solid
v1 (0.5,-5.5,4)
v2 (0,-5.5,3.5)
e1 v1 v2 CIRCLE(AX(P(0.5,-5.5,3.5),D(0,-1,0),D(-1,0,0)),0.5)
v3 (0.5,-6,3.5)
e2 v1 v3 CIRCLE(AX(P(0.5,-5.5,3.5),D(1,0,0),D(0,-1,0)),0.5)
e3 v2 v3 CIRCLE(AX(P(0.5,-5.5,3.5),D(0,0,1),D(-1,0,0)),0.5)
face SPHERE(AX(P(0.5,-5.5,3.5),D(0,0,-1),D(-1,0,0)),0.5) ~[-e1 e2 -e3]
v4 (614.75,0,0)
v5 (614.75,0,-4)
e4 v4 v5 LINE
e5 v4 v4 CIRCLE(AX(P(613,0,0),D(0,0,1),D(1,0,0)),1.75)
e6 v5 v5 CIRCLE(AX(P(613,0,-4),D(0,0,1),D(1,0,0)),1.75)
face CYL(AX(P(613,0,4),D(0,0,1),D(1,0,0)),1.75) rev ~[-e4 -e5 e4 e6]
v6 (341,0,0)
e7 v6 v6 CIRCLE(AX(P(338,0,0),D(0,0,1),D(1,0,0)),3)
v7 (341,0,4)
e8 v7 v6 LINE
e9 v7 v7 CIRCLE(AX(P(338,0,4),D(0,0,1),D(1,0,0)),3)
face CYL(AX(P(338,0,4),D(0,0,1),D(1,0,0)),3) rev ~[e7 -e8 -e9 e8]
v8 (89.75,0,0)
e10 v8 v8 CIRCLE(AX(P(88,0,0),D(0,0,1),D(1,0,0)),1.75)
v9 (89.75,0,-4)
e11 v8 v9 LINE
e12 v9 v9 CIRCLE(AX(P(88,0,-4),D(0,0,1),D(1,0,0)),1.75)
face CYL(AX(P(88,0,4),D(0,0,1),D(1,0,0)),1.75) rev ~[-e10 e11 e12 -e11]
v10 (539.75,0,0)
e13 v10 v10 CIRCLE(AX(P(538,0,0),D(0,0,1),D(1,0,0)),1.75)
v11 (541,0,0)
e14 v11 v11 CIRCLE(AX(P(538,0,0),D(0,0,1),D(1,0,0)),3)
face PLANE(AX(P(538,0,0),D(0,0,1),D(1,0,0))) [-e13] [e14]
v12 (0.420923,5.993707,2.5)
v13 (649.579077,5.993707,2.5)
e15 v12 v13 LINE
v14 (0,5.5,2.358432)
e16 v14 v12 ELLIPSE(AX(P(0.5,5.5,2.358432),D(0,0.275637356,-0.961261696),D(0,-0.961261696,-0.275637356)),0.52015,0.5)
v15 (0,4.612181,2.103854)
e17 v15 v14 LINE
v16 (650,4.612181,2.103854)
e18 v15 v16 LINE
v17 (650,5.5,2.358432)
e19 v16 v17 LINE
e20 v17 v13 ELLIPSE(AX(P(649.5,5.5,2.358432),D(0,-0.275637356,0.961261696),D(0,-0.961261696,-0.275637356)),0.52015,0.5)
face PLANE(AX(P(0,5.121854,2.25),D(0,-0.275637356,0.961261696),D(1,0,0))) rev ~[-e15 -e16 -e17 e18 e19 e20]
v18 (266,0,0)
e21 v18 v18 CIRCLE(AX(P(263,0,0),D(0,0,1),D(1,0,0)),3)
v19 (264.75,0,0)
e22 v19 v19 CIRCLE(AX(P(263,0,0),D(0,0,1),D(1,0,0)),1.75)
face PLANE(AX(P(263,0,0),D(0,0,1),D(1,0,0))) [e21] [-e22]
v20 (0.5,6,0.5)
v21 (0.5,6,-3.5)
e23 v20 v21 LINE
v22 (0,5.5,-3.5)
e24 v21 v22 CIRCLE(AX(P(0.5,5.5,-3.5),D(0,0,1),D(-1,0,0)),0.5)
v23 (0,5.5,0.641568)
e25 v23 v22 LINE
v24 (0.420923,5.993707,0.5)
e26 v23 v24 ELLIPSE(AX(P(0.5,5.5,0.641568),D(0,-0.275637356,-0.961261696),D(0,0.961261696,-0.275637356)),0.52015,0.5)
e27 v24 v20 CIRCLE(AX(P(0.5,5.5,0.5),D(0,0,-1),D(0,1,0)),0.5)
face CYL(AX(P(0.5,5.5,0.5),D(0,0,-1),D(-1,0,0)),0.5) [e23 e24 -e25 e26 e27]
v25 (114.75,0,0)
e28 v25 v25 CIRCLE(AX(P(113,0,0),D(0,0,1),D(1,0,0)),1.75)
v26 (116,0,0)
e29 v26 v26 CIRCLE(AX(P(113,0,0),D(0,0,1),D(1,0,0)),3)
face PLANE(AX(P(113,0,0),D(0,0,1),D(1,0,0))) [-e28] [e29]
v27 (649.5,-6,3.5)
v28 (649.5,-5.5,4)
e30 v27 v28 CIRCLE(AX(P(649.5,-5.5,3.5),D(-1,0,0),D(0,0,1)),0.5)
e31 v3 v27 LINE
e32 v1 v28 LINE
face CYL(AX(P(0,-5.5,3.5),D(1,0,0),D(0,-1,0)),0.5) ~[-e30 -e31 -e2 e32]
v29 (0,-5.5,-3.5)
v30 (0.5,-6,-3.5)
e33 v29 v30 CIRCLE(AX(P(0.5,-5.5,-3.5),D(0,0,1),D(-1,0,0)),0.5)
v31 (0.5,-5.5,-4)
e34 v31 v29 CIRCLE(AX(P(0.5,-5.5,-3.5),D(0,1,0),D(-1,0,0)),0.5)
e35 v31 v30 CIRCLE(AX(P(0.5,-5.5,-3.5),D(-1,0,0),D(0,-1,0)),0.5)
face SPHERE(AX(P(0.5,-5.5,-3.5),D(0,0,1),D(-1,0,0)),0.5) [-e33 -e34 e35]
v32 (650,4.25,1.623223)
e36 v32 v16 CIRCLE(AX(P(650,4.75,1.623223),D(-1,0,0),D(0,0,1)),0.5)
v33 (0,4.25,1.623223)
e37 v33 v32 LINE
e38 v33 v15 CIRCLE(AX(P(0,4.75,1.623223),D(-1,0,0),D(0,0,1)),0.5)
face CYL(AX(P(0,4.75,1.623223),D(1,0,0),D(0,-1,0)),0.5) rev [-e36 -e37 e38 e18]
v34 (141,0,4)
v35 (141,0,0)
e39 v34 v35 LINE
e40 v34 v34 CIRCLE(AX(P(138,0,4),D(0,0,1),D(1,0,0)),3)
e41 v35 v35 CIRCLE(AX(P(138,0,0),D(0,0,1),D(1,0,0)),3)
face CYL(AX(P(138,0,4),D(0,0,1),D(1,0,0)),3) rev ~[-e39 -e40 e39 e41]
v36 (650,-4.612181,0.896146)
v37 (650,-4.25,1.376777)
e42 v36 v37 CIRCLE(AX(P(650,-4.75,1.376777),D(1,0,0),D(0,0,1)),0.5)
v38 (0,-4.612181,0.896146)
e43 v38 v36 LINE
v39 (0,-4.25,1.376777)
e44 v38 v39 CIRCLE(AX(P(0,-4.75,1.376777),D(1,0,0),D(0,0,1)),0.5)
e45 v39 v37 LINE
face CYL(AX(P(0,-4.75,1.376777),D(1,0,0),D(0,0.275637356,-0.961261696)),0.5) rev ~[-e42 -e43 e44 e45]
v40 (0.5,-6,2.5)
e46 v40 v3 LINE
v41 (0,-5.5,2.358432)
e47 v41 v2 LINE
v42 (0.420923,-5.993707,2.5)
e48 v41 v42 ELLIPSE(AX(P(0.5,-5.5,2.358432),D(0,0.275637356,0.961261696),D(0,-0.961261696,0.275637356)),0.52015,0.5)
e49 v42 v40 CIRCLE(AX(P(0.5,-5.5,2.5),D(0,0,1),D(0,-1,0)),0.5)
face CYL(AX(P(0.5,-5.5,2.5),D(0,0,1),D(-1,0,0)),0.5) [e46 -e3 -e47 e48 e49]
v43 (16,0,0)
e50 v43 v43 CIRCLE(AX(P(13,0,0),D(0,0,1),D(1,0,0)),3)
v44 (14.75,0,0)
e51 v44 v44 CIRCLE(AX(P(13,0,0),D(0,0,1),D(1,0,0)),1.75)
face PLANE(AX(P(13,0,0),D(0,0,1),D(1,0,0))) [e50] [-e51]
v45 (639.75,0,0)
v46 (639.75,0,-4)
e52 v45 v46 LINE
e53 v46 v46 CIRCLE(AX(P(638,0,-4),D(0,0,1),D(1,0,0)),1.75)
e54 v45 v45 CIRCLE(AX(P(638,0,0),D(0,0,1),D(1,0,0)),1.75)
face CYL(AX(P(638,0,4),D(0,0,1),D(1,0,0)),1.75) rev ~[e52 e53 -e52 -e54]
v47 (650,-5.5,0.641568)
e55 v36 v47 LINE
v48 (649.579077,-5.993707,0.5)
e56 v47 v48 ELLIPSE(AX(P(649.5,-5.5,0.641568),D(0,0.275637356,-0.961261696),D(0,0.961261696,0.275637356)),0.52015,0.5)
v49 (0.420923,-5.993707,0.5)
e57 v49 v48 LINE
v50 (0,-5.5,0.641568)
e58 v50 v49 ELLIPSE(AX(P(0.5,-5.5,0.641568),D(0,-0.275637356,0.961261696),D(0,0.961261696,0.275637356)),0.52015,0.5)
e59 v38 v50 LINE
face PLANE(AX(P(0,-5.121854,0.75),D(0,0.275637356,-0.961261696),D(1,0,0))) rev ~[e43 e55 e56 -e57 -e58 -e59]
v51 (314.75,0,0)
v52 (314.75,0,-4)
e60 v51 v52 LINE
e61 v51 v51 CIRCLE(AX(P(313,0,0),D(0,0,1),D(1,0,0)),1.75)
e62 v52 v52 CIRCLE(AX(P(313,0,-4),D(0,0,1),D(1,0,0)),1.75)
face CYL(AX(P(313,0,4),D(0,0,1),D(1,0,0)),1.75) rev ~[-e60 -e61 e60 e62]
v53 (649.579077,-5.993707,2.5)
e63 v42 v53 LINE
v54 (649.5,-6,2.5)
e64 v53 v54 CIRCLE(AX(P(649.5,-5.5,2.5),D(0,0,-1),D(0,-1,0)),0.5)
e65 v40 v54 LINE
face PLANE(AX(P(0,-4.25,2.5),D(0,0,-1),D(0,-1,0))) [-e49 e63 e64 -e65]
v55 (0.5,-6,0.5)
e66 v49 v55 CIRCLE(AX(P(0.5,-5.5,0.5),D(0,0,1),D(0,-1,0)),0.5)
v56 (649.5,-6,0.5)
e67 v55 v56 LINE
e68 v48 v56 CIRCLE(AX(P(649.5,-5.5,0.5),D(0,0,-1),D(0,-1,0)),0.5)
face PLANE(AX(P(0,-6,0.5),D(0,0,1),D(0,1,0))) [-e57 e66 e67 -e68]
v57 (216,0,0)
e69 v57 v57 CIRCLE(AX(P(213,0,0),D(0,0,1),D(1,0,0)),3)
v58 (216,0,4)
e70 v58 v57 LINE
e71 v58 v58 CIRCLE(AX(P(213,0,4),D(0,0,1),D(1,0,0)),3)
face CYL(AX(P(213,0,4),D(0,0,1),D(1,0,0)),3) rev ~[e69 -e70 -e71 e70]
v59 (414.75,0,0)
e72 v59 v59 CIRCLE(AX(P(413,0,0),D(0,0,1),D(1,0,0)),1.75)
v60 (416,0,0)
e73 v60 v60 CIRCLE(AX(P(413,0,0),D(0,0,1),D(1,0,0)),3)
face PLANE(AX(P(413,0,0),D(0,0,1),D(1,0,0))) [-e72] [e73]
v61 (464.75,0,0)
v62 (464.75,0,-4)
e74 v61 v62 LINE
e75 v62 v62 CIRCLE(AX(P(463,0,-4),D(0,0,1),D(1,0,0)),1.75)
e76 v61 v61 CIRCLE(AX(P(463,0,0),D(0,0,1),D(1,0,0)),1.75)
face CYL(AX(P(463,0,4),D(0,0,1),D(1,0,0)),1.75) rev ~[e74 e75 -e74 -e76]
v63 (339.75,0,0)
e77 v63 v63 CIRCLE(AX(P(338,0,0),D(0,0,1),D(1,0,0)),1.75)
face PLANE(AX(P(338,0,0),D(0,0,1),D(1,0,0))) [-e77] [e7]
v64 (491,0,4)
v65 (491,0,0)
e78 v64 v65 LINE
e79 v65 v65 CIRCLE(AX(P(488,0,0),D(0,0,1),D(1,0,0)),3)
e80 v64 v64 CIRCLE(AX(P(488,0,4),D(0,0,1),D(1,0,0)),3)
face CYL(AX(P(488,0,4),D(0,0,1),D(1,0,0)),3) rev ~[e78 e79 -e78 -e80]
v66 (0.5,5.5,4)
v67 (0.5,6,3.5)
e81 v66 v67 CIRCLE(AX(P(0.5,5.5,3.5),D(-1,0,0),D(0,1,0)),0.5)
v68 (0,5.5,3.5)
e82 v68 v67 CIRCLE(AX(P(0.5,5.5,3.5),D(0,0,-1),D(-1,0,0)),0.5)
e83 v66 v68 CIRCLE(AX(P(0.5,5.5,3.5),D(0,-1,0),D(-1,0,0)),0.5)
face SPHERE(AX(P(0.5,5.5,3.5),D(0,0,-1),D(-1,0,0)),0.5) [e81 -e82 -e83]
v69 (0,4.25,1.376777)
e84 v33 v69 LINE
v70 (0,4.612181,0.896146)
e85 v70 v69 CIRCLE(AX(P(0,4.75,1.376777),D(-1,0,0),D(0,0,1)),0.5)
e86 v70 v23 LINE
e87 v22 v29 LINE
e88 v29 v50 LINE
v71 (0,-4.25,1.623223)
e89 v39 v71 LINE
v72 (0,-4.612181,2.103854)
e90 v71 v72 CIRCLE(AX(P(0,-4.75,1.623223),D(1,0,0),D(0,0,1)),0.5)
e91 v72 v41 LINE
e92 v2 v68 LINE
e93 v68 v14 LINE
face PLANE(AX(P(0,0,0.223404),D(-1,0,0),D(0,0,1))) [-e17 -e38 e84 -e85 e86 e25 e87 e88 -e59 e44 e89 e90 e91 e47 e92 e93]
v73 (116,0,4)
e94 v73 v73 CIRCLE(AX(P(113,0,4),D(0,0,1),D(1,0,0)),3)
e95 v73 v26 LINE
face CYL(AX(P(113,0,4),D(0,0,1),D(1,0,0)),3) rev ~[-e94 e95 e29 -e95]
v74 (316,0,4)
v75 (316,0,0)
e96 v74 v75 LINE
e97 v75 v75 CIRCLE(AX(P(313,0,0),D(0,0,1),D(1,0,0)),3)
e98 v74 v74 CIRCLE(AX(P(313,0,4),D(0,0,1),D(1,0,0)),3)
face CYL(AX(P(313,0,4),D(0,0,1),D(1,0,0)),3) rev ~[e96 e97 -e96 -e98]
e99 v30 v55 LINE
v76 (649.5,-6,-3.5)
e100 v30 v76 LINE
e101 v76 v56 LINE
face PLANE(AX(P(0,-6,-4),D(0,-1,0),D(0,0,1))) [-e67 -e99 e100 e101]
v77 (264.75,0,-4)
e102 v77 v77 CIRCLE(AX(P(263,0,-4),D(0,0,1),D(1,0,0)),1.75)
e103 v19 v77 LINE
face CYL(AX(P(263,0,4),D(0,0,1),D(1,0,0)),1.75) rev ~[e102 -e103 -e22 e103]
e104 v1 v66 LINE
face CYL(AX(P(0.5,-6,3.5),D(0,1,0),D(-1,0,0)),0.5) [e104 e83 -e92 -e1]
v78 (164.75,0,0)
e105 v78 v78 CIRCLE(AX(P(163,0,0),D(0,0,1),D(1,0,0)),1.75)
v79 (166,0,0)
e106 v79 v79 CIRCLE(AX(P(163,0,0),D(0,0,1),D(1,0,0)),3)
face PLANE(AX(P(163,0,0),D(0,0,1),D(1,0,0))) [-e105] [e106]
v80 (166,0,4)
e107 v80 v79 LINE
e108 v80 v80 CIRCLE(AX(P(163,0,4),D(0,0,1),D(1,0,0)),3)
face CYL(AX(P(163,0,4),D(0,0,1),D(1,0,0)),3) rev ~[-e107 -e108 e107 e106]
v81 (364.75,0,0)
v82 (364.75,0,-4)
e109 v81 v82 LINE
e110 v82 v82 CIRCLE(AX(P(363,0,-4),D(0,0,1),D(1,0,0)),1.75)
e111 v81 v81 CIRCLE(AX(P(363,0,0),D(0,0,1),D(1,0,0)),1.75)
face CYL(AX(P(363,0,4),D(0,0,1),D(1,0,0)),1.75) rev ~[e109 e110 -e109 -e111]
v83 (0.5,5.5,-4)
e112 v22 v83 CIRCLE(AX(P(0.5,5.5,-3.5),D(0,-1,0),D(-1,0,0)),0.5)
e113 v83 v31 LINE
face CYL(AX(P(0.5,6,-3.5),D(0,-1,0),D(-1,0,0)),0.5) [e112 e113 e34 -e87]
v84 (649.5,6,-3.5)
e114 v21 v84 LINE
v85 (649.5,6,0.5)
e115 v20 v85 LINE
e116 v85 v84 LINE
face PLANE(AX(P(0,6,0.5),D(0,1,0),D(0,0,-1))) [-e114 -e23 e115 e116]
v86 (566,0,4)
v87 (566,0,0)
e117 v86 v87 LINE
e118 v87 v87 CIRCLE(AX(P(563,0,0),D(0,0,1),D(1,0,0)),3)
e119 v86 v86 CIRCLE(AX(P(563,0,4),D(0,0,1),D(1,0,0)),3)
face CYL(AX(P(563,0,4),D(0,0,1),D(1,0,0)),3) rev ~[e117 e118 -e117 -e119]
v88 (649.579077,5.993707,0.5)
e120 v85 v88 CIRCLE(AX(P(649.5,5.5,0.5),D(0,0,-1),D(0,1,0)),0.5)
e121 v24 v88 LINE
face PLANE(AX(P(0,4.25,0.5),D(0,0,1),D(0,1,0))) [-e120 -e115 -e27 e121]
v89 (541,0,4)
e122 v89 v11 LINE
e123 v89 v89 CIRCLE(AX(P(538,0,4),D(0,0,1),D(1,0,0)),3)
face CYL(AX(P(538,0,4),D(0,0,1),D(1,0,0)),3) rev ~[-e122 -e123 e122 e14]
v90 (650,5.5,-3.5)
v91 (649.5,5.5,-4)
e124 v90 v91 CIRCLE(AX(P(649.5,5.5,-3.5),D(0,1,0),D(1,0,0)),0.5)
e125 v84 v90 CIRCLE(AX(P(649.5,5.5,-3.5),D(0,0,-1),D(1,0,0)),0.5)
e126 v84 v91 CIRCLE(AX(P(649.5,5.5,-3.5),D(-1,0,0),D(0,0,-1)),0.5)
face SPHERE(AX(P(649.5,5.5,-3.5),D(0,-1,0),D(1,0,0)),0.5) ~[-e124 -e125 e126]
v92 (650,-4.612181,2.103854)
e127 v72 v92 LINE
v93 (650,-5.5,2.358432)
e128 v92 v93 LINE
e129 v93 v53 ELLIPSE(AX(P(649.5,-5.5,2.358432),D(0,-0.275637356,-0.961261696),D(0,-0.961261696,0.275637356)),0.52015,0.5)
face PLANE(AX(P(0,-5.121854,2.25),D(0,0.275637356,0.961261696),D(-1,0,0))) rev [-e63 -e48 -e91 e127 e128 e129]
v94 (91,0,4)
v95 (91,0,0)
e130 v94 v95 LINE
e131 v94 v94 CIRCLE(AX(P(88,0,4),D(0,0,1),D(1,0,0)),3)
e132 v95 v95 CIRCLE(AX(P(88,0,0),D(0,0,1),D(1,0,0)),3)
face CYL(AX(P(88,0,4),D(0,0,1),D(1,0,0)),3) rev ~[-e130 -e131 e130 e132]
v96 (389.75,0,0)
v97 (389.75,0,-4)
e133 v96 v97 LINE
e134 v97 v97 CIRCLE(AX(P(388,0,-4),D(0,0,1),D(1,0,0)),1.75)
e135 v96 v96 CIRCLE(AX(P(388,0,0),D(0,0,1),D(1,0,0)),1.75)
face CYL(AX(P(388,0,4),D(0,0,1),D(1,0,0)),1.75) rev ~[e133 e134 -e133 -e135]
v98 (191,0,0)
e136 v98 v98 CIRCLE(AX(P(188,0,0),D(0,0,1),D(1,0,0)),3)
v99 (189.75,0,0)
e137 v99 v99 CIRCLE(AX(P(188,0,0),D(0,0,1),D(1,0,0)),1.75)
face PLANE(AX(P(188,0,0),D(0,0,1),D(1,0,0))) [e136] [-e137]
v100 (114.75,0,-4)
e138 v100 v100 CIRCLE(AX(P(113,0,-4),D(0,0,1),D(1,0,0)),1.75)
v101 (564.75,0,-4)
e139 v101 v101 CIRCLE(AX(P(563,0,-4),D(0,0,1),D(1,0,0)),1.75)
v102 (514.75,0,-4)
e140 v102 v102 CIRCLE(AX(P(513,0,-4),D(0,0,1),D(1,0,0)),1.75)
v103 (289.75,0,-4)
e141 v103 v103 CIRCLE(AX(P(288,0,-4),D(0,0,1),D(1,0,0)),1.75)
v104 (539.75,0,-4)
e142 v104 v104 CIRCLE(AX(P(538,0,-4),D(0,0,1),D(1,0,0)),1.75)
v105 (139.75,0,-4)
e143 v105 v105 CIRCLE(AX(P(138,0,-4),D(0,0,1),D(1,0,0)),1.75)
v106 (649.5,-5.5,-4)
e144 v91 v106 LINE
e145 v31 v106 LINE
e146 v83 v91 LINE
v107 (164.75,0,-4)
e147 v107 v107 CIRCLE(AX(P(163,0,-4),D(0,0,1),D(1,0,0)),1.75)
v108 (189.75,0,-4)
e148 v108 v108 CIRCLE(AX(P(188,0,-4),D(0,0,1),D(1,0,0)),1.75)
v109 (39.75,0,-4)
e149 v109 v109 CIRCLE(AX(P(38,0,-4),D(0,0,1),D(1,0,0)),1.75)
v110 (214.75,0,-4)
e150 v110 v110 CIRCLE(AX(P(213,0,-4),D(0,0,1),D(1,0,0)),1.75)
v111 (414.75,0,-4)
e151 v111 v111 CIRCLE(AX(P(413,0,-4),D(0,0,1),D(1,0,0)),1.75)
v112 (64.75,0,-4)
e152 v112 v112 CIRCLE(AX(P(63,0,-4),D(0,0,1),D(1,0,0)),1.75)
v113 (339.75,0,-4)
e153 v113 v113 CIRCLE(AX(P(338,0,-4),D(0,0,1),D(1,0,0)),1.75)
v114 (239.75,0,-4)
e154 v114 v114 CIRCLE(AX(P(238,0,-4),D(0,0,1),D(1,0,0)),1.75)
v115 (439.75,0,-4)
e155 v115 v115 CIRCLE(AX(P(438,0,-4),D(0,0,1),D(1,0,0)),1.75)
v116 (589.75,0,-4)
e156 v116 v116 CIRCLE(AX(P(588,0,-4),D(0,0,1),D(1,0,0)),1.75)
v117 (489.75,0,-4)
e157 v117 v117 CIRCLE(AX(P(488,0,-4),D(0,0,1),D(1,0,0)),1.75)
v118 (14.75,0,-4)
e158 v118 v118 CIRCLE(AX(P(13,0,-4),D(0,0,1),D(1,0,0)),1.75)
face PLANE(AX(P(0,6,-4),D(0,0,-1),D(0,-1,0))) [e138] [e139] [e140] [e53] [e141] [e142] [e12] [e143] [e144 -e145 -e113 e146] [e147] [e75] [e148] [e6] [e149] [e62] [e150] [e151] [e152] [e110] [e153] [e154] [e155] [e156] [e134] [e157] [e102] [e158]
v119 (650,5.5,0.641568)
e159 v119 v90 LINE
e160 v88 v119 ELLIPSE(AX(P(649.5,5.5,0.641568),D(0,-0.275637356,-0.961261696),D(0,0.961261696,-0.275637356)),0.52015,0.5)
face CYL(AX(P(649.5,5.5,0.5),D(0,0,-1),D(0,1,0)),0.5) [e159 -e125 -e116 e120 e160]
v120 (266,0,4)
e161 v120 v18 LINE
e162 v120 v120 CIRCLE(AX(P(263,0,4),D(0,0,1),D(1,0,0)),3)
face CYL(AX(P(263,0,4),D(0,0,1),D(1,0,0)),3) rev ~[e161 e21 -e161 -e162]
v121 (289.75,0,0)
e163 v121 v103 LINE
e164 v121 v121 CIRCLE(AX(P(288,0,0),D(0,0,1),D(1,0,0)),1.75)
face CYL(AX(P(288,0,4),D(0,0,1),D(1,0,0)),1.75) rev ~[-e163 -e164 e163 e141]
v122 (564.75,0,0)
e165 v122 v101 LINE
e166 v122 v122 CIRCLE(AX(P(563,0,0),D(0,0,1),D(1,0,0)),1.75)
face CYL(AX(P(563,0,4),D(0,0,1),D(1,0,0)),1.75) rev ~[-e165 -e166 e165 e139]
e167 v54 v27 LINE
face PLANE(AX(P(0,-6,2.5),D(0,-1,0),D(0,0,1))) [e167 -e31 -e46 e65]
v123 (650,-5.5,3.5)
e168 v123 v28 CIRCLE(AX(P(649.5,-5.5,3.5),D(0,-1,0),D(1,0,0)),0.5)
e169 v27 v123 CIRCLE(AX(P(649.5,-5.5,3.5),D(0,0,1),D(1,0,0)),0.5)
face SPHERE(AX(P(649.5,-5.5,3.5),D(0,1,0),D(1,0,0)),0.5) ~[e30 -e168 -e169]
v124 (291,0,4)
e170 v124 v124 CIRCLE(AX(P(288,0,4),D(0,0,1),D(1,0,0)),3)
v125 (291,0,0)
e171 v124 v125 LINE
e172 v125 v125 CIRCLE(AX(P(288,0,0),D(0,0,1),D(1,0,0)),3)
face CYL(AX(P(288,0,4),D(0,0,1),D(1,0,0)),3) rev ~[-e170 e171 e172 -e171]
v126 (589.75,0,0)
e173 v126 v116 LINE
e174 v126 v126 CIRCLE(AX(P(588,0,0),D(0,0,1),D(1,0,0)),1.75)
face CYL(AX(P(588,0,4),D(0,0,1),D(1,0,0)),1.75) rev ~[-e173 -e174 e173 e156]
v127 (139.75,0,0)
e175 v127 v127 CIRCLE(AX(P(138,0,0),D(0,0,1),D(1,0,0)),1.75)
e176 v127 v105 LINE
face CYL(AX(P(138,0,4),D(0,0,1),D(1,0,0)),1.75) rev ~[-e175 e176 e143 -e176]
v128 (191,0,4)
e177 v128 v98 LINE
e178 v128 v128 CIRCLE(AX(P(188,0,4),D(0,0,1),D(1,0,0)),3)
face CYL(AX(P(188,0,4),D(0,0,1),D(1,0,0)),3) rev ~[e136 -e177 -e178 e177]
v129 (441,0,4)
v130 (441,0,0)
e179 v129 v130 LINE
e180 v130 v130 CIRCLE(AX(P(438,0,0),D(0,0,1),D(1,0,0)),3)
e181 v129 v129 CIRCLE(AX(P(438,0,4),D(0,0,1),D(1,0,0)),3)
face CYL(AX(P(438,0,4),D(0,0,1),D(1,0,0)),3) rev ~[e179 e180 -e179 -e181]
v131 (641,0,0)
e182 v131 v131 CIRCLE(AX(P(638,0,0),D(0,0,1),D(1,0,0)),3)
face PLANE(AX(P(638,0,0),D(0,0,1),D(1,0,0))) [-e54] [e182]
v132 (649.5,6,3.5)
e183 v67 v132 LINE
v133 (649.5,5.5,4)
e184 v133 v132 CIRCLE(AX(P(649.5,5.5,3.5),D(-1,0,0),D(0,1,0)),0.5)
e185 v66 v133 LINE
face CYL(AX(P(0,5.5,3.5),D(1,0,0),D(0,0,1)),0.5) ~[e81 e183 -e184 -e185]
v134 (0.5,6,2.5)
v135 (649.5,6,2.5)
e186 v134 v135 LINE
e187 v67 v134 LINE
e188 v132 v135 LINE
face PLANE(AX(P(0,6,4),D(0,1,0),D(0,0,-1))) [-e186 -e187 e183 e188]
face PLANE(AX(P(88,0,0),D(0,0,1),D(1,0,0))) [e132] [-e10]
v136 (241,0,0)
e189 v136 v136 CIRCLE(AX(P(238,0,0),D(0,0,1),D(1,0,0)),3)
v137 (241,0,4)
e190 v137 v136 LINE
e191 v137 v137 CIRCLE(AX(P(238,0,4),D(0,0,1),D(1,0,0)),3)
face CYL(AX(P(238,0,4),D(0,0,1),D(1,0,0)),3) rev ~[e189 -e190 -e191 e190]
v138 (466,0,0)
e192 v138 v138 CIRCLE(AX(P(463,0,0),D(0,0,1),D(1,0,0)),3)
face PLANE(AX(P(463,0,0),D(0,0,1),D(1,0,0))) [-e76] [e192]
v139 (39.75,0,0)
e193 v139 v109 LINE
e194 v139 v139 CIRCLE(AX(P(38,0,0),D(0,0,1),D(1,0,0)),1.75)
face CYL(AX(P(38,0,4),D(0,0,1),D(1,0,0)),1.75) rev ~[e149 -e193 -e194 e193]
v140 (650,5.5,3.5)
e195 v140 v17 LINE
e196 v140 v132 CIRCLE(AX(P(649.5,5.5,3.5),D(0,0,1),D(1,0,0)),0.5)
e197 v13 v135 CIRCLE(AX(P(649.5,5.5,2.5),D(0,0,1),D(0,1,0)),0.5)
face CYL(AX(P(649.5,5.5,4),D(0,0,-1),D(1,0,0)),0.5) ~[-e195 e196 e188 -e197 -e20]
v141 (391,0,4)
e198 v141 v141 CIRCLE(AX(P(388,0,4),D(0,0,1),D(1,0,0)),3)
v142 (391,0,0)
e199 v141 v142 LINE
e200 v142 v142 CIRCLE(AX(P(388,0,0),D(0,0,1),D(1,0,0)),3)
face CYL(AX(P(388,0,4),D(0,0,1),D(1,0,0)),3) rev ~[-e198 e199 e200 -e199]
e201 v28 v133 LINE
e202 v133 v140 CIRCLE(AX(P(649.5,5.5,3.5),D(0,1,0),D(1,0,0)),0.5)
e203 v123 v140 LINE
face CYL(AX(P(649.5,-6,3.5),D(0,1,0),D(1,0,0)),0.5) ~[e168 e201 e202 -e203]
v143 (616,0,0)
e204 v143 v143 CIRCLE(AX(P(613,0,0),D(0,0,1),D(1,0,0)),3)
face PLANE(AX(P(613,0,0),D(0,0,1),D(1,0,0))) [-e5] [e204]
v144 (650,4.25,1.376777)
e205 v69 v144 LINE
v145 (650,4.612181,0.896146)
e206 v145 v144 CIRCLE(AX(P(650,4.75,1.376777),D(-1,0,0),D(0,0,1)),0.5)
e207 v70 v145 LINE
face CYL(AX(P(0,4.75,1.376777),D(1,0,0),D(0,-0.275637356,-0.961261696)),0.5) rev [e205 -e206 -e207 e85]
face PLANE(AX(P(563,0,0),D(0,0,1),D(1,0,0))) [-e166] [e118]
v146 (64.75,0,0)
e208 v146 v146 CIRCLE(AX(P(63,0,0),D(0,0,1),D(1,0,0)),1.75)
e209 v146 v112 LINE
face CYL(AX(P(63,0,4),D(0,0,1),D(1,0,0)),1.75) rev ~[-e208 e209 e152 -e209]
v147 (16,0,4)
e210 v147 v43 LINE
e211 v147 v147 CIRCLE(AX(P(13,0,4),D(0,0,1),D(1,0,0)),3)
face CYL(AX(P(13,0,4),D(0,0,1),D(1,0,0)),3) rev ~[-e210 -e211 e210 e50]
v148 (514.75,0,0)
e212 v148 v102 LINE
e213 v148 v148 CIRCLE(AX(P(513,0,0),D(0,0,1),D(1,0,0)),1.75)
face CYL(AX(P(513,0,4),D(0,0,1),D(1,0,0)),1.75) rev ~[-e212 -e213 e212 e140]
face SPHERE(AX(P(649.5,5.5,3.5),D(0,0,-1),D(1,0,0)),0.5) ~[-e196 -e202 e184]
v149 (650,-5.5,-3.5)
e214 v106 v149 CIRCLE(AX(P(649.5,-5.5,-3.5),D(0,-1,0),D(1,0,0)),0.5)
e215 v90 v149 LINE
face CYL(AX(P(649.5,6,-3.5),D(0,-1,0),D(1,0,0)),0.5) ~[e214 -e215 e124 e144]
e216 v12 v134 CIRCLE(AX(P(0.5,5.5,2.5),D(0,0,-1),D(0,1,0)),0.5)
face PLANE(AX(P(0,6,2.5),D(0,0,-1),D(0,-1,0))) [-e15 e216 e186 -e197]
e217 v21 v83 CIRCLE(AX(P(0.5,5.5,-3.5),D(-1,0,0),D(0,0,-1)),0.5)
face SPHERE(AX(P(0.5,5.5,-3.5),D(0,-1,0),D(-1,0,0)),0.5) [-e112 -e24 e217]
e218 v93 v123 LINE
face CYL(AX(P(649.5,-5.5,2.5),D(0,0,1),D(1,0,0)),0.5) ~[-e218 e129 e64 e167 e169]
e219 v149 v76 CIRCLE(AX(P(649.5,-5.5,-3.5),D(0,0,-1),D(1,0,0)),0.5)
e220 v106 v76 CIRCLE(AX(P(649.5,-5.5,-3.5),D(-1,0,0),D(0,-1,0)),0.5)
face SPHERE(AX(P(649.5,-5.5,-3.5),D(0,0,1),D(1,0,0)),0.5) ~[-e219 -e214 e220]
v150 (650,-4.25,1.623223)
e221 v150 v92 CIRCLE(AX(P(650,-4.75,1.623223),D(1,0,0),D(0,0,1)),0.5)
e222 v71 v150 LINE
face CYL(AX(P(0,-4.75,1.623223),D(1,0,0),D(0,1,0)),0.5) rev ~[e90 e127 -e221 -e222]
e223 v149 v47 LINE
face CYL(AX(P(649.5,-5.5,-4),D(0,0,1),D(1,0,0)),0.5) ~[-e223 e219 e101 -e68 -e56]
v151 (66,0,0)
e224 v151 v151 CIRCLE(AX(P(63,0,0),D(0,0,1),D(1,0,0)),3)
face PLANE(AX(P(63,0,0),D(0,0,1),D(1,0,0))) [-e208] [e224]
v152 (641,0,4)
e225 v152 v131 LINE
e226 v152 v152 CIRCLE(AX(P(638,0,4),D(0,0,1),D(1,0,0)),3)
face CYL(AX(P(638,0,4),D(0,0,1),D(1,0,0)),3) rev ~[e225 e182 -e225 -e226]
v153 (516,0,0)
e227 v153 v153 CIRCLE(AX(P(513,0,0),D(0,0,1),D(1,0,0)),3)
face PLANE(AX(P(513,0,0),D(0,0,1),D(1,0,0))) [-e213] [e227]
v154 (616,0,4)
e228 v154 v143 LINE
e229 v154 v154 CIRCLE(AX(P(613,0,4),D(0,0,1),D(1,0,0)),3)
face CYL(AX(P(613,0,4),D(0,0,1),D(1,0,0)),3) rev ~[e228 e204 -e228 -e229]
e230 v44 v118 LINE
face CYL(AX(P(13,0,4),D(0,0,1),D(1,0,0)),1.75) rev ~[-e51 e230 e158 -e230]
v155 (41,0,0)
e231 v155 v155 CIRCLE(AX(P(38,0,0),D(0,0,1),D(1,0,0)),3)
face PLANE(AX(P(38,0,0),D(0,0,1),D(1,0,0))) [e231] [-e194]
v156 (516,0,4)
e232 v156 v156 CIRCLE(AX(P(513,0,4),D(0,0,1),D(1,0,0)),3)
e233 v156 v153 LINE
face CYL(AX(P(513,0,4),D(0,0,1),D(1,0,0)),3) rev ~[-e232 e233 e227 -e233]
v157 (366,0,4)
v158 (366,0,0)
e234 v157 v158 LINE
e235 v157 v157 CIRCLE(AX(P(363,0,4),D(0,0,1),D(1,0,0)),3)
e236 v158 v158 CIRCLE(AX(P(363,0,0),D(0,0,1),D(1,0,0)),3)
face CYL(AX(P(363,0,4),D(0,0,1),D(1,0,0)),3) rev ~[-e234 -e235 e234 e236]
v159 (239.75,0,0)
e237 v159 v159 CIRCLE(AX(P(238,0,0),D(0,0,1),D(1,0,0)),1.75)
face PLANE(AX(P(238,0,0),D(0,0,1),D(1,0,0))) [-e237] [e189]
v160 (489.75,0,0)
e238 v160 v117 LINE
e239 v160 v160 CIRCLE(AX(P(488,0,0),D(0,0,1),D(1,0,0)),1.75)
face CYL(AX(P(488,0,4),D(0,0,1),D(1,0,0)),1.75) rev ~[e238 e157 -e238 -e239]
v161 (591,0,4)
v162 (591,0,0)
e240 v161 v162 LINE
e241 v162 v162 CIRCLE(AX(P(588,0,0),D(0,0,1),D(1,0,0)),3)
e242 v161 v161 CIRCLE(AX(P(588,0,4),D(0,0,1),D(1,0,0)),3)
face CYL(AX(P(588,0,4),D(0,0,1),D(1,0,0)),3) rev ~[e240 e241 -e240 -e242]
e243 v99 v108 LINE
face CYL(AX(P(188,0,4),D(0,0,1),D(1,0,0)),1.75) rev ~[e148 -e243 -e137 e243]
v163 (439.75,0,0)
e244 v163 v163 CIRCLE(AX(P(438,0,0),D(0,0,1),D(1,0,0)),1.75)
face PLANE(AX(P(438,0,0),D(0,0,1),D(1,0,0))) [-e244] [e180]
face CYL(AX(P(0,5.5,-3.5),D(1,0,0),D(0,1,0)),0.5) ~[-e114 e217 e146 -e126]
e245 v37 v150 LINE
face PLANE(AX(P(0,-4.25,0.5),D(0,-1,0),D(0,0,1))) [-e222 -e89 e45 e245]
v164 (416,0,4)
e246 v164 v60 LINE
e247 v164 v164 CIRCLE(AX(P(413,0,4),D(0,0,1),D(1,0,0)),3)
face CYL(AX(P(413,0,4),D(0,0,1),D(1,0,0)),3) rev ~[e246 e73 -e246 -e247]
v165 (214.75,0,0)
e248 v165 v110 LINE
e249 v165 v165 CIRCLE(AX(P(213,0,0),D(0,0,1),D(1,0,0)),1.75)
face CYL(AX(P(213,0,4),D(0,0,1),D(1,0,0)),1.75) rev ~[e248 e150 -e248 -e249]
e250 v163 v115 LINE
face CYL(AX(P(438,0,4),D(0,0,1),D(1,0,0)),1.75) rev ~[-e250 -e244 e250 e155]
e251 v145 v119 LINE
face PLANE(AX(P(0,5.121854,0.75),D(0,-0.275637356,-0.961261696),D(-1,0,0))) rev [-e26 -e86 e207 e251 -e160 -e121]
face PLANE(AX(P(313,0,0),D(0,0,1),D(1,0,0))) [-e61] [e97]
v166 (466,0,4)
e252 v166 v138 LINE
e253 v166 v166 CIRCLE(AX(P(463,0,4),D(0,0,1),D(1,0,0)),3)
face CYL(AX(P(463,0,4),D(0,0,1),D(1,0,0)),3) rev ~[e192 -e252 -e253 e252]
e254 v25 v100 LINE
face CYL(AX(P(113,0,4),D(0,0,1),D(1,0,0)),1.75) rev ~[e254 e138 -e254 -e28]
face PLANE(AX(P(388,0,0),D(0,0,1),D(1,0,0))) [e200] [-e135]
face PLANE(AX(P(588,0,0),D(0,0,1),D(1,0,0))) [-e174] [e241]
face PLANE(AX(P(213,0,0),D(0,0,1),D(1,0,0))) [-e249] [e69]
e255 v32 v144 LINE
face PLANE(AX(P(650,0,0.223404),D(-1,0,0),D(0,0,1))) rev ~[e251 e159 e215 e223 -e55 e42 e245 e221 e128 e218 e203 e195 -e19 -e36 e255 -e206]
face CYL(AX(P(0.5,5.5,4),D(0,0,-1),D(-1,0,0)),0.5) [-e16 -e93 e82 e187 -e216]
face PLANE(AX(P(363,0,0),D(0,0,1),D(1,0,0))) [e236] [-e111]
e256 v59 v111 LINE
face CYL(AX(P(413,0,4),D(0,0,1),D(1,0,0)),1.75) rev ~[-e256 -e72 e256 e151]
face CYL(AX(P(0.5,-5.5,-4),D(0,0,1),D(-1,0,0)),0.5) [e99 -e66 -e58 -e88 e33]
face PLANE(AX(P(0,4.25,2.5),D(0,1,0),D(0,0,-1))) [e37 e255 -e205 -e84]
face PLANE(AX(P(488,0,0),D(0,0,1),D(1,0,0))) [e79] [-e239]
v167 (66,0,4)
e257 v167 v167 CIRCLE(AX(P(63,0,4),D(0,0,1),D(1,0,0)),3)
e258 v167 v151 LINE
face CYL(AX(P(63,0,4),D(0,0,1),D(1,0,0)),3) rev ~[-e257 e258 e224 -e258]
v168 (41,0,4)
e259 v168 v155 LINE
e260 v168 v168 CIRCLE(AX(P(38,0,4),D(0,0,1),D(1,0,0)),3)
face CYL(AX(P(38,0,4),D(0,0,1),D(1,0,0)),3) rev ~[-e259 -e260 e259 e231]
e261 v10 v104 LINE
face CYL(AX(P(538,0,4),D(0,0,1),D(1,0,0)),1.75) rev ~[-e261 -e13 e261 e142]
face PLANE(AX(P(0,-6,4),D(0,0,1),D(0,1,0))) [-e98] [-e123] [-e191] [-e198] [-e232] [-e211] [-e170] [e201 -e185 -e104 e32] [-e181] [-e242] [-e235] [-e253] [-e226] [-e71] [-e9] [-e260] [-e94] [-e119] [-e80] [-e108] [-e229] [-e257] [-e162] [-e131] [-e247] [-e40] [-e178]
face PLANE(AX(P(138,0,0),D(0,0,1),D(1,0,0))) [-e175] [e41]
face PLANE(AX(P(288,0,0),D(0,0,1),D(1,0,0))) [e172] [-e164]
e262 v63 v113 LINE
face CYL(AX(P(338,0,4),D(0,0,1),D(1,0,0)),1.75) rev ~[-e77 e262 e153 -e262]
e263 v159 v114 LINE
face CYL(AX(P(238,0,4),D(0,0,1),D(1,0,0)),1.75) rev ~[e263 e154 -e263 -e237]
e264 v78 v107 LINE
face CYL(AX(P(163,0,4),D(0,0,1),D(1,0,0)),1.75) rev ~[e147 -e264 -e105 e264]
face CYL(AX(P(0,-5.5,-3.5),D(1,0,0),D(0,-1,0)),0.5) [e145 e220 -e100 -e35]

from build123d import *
from OCP.BRepFilletAPI import BRepFilletAPI_MakeChamfer

# Parameters (mm, degrees)
BOSS_EXTRUDE1_DEPTH = 650
SKETCH2_R           = 1.75
CUT_EXTRUDE1_DEPTH  = 10
SKETCH3_R           = 3
CUT_EXTRUDE2_DEPTH  = 4
CHAMFER1_SIZE       = 0.5
CHAMFER1_SIZE2      = 1.743707222
FILLET1_R           = 0.5


with BuildPart() as part:
    # Sketch1 → Boss-Extrude1 (new body)
    with BuildSketch(Plane(origin=(0, 0, 0), x_dir=(0, 0, -1), z_dir=(1, 0, 0))):
        Polygon((-0.5, 6), (4, 6), (4, -6), (-0.5, -6), (-0.5, -4.25), (-2.5, -4.25), (-2.5, -6), (-4, -6), (-4, 6), (-2.5, 6), (-2.5, 4.25), (-0.5, 4.25), align=None)
    extrude(amount=BOSS_EXTRUDE1_DEPTH)

    # Sketch2 → Cut-Extrude1 (cut)
    with BuildSketch(Plane.XY.offset(4)):
        with Locations((13, 0)):
            Circle(SKETCH2_R)
        with Locations((38, 0)):
            Circle(SKETCH2_R)
        with Locations((63, 0)):
            Circle(SKETCH2_R)
        with Locations((88, 0)):
            Circle(SKETCH2_R)
        with Locations((113, 0)):
            Circle(SKETCH2_R)
        with Locations((138, 0)):
            Circle(SKETCH2_R)
        with Locations((163, 0)):
            Circle(SKETCH2_R)
        with Locations((188, 0)):
            Circle(SKETCH2_R)
        with Locations((213, 0)):
            Circle(SKETCH2_R)
        with Locations((238, 0)):
            Circle(SKETCH2_R)
        with Locations((263, 0)):
            Circle(SKETCH2_R)
        with Locations((288, 0)):
            Circle(SKETCH2_R)
        with Locations((313, 0)):
            Circle(SKETCH2_R)
        with Locations((338, 0)):
            Circle(SKETCH2_R)
        with Locations((363, 0)):
            Circle(SKETCH2_R)
        with Locations((388, 0)):
            Circle(SKETCH2_R)
        with Locations((413, 0)):
            Circle(SKETCH2_R)
        with Locations((438, 0)):
            Circle(SKETCH2_R)
        with Locations((463, 0)):
            Circle(SKETCH2_R)
        with Locations((488, 0)):
            Circle(SKETCH2_R)
        with Locations((513, 0)):
            Circle(SKETCH2_R)
        with Locations((538, 0)):
            Circle(SKETCH2_R)
        with Locations((563, 0)):
            Circle(SKETCH2_R)
        with Locations((588, 0)):
            Circle(SKETCH2_R)
        with Locations((613, 0)):
            Circle(SKETCH2_R)
        with Locations((638, 0)):
            Circle(SKETCH2_R)
    extrude(amount=-CUT_EXTRUDE1_DEPTH, mode=Mode.SUBTRACT)

    # Sketch3 → Cut-Extrude2 (cut)
    with BuildSketch(Plane.XY.offset(4)):
        with Locations((13, 0)):
            Circle(SKETCH3_R)
        with Locations((38, 0)):
            Circle(SKETCH3_R)
        with Locations((63, 0)):
            Circle(SKETCH3_R)
        with Locations((88, 0)):
            Circle(SKETCH3_R)
        with Locations((113, 0)):
            Circle(SKETCH3_R)
        with Locations((138, 0)):
            Circle(SKETCH3_R)
        with Locations((163, 0)):
            Circle(SKETCH3_R)
        with Locations((188, 0)):
            Circle(SKETCH3_R)
        with Locations((213, 0)):
            Circle(SKETCH3_R)
        with Locations((238, 0)):
            Circle(SKETCH3_R)
        with Locations((263, 0)):
            Circle(SKETCH3_R)
        with Locations((288, 0)):
            Circle(SKETCH3_R)
        with Locations((313, 0)):
            Circle(SKETCH3_R)
        with Locations((338, 0)):
            Circle(SKETCH3_R)
        with Locations((363, 0)):
            Circle(SKETCH3_R)
        with Locations((388, 0)):
            Circle(SKETCH3_R)
        with Locations((413, 0)):
            Circle(SKETCH3_R)
        with Locations((438, 0)):
            Circle(SKETCH3_R)
        with Locations((463, 0)):
            Circle(SKETCH3_R)
        with Locations((488, 0)):
            Circle(SKETCH3_R)
        with Locations((513, 0)):
            Circle(SKETCH3_R)
        with Locations((538, 0)):
            Circle(SKETCH3_R)
        with Locations((563, 0)):
            Circle(SKETCH3_R)
        with Locations((588, 0)):
            Circle(SKETCH3_R)
        with Locations((613, 0)):
            Circle(SKETCH3_R)
        with Locations((638, 0)):
            Circle(SKETCH3_R)
    extrude(amount=-CUT_EXTRUDE2_DEPTH, mode=Mode.SUBTRACT)

    # Chamfer1: one chamfer whose edges measure the first distance from different faces: ONE call of the kernel's chamfer builder (chamfer() names one face for all edges)
    chamfer1_edges_1 = [part.edges().sort_by_distance(p)[0] for p in [
        (325, -4.25, 0.5),
        (325, -4.25, 2.5),
    ]]
    chamfer1_side_1 = [part.faces().sort_by_distance(p)[0] for p in [
        (325, -4.25, 1.5),
    ]]
    chamfer1_edges_2 = [part.edges().sort_by_distance(p)[0] for p in [
        (325, 4.25, 2.5),
        (325, 4.25, 0.5),
    ]]
    chamfer1_side_2 = [part.faces().sort_by_distance(p)[0] for p in [
        (325, 4.25, 1.5),
    ]]
    chamfer1 = BRepFilletAPI_MakeChamfer(part.part.solid().wrapped)
    for e in chamfer1_edges_1:
        chamfer1.Add(CHAMFER1_SIZE, CHAMFER1_SIZE2, e.wrapped, chamfer1_side_1[0].wrapped)  # the first distance lies on this face
    for e in chamfer1_edges_2:
        chamfer1.Add(CHAMFER1_SIZE, CHAMFER1_SIZE2, e.wrapped, chamfer1_side_2[0].wrapped)  # the first distance lies on this face
    add(Compound.cast(chamfer1.Shape()), mode=Mode.REPLACE)

    # Fillet1
    fillet1_edges = [part.edges().sort_by_distance(p)[0] for p in [
        (650, -6, -1.75),
        (650, 0, -4),
        (650, 6, -1.75),
        (650, 6, 3.25),
        (650, 0, 4),
        (650, -6, 3.25),
        (0, -6, 3.25),
        (0, -6, -1.75),
        (0, 0, -4),
        (0, 6, -1.75),
        (0, 6, 3.25),
        (0, 0, 4),
        (325, -4.25, 1),
        (325, -4.25, 2),
        (325, 4.25, 2),
        (325, 4.25, 1),
        (325, -6, 4),
        (325, 6, 4),
        (325, -6, -4),
        (325, 6, -4),
    ]]
    fillet(fillet1_edges, radius=FILLET1_R)


solid = part.part
